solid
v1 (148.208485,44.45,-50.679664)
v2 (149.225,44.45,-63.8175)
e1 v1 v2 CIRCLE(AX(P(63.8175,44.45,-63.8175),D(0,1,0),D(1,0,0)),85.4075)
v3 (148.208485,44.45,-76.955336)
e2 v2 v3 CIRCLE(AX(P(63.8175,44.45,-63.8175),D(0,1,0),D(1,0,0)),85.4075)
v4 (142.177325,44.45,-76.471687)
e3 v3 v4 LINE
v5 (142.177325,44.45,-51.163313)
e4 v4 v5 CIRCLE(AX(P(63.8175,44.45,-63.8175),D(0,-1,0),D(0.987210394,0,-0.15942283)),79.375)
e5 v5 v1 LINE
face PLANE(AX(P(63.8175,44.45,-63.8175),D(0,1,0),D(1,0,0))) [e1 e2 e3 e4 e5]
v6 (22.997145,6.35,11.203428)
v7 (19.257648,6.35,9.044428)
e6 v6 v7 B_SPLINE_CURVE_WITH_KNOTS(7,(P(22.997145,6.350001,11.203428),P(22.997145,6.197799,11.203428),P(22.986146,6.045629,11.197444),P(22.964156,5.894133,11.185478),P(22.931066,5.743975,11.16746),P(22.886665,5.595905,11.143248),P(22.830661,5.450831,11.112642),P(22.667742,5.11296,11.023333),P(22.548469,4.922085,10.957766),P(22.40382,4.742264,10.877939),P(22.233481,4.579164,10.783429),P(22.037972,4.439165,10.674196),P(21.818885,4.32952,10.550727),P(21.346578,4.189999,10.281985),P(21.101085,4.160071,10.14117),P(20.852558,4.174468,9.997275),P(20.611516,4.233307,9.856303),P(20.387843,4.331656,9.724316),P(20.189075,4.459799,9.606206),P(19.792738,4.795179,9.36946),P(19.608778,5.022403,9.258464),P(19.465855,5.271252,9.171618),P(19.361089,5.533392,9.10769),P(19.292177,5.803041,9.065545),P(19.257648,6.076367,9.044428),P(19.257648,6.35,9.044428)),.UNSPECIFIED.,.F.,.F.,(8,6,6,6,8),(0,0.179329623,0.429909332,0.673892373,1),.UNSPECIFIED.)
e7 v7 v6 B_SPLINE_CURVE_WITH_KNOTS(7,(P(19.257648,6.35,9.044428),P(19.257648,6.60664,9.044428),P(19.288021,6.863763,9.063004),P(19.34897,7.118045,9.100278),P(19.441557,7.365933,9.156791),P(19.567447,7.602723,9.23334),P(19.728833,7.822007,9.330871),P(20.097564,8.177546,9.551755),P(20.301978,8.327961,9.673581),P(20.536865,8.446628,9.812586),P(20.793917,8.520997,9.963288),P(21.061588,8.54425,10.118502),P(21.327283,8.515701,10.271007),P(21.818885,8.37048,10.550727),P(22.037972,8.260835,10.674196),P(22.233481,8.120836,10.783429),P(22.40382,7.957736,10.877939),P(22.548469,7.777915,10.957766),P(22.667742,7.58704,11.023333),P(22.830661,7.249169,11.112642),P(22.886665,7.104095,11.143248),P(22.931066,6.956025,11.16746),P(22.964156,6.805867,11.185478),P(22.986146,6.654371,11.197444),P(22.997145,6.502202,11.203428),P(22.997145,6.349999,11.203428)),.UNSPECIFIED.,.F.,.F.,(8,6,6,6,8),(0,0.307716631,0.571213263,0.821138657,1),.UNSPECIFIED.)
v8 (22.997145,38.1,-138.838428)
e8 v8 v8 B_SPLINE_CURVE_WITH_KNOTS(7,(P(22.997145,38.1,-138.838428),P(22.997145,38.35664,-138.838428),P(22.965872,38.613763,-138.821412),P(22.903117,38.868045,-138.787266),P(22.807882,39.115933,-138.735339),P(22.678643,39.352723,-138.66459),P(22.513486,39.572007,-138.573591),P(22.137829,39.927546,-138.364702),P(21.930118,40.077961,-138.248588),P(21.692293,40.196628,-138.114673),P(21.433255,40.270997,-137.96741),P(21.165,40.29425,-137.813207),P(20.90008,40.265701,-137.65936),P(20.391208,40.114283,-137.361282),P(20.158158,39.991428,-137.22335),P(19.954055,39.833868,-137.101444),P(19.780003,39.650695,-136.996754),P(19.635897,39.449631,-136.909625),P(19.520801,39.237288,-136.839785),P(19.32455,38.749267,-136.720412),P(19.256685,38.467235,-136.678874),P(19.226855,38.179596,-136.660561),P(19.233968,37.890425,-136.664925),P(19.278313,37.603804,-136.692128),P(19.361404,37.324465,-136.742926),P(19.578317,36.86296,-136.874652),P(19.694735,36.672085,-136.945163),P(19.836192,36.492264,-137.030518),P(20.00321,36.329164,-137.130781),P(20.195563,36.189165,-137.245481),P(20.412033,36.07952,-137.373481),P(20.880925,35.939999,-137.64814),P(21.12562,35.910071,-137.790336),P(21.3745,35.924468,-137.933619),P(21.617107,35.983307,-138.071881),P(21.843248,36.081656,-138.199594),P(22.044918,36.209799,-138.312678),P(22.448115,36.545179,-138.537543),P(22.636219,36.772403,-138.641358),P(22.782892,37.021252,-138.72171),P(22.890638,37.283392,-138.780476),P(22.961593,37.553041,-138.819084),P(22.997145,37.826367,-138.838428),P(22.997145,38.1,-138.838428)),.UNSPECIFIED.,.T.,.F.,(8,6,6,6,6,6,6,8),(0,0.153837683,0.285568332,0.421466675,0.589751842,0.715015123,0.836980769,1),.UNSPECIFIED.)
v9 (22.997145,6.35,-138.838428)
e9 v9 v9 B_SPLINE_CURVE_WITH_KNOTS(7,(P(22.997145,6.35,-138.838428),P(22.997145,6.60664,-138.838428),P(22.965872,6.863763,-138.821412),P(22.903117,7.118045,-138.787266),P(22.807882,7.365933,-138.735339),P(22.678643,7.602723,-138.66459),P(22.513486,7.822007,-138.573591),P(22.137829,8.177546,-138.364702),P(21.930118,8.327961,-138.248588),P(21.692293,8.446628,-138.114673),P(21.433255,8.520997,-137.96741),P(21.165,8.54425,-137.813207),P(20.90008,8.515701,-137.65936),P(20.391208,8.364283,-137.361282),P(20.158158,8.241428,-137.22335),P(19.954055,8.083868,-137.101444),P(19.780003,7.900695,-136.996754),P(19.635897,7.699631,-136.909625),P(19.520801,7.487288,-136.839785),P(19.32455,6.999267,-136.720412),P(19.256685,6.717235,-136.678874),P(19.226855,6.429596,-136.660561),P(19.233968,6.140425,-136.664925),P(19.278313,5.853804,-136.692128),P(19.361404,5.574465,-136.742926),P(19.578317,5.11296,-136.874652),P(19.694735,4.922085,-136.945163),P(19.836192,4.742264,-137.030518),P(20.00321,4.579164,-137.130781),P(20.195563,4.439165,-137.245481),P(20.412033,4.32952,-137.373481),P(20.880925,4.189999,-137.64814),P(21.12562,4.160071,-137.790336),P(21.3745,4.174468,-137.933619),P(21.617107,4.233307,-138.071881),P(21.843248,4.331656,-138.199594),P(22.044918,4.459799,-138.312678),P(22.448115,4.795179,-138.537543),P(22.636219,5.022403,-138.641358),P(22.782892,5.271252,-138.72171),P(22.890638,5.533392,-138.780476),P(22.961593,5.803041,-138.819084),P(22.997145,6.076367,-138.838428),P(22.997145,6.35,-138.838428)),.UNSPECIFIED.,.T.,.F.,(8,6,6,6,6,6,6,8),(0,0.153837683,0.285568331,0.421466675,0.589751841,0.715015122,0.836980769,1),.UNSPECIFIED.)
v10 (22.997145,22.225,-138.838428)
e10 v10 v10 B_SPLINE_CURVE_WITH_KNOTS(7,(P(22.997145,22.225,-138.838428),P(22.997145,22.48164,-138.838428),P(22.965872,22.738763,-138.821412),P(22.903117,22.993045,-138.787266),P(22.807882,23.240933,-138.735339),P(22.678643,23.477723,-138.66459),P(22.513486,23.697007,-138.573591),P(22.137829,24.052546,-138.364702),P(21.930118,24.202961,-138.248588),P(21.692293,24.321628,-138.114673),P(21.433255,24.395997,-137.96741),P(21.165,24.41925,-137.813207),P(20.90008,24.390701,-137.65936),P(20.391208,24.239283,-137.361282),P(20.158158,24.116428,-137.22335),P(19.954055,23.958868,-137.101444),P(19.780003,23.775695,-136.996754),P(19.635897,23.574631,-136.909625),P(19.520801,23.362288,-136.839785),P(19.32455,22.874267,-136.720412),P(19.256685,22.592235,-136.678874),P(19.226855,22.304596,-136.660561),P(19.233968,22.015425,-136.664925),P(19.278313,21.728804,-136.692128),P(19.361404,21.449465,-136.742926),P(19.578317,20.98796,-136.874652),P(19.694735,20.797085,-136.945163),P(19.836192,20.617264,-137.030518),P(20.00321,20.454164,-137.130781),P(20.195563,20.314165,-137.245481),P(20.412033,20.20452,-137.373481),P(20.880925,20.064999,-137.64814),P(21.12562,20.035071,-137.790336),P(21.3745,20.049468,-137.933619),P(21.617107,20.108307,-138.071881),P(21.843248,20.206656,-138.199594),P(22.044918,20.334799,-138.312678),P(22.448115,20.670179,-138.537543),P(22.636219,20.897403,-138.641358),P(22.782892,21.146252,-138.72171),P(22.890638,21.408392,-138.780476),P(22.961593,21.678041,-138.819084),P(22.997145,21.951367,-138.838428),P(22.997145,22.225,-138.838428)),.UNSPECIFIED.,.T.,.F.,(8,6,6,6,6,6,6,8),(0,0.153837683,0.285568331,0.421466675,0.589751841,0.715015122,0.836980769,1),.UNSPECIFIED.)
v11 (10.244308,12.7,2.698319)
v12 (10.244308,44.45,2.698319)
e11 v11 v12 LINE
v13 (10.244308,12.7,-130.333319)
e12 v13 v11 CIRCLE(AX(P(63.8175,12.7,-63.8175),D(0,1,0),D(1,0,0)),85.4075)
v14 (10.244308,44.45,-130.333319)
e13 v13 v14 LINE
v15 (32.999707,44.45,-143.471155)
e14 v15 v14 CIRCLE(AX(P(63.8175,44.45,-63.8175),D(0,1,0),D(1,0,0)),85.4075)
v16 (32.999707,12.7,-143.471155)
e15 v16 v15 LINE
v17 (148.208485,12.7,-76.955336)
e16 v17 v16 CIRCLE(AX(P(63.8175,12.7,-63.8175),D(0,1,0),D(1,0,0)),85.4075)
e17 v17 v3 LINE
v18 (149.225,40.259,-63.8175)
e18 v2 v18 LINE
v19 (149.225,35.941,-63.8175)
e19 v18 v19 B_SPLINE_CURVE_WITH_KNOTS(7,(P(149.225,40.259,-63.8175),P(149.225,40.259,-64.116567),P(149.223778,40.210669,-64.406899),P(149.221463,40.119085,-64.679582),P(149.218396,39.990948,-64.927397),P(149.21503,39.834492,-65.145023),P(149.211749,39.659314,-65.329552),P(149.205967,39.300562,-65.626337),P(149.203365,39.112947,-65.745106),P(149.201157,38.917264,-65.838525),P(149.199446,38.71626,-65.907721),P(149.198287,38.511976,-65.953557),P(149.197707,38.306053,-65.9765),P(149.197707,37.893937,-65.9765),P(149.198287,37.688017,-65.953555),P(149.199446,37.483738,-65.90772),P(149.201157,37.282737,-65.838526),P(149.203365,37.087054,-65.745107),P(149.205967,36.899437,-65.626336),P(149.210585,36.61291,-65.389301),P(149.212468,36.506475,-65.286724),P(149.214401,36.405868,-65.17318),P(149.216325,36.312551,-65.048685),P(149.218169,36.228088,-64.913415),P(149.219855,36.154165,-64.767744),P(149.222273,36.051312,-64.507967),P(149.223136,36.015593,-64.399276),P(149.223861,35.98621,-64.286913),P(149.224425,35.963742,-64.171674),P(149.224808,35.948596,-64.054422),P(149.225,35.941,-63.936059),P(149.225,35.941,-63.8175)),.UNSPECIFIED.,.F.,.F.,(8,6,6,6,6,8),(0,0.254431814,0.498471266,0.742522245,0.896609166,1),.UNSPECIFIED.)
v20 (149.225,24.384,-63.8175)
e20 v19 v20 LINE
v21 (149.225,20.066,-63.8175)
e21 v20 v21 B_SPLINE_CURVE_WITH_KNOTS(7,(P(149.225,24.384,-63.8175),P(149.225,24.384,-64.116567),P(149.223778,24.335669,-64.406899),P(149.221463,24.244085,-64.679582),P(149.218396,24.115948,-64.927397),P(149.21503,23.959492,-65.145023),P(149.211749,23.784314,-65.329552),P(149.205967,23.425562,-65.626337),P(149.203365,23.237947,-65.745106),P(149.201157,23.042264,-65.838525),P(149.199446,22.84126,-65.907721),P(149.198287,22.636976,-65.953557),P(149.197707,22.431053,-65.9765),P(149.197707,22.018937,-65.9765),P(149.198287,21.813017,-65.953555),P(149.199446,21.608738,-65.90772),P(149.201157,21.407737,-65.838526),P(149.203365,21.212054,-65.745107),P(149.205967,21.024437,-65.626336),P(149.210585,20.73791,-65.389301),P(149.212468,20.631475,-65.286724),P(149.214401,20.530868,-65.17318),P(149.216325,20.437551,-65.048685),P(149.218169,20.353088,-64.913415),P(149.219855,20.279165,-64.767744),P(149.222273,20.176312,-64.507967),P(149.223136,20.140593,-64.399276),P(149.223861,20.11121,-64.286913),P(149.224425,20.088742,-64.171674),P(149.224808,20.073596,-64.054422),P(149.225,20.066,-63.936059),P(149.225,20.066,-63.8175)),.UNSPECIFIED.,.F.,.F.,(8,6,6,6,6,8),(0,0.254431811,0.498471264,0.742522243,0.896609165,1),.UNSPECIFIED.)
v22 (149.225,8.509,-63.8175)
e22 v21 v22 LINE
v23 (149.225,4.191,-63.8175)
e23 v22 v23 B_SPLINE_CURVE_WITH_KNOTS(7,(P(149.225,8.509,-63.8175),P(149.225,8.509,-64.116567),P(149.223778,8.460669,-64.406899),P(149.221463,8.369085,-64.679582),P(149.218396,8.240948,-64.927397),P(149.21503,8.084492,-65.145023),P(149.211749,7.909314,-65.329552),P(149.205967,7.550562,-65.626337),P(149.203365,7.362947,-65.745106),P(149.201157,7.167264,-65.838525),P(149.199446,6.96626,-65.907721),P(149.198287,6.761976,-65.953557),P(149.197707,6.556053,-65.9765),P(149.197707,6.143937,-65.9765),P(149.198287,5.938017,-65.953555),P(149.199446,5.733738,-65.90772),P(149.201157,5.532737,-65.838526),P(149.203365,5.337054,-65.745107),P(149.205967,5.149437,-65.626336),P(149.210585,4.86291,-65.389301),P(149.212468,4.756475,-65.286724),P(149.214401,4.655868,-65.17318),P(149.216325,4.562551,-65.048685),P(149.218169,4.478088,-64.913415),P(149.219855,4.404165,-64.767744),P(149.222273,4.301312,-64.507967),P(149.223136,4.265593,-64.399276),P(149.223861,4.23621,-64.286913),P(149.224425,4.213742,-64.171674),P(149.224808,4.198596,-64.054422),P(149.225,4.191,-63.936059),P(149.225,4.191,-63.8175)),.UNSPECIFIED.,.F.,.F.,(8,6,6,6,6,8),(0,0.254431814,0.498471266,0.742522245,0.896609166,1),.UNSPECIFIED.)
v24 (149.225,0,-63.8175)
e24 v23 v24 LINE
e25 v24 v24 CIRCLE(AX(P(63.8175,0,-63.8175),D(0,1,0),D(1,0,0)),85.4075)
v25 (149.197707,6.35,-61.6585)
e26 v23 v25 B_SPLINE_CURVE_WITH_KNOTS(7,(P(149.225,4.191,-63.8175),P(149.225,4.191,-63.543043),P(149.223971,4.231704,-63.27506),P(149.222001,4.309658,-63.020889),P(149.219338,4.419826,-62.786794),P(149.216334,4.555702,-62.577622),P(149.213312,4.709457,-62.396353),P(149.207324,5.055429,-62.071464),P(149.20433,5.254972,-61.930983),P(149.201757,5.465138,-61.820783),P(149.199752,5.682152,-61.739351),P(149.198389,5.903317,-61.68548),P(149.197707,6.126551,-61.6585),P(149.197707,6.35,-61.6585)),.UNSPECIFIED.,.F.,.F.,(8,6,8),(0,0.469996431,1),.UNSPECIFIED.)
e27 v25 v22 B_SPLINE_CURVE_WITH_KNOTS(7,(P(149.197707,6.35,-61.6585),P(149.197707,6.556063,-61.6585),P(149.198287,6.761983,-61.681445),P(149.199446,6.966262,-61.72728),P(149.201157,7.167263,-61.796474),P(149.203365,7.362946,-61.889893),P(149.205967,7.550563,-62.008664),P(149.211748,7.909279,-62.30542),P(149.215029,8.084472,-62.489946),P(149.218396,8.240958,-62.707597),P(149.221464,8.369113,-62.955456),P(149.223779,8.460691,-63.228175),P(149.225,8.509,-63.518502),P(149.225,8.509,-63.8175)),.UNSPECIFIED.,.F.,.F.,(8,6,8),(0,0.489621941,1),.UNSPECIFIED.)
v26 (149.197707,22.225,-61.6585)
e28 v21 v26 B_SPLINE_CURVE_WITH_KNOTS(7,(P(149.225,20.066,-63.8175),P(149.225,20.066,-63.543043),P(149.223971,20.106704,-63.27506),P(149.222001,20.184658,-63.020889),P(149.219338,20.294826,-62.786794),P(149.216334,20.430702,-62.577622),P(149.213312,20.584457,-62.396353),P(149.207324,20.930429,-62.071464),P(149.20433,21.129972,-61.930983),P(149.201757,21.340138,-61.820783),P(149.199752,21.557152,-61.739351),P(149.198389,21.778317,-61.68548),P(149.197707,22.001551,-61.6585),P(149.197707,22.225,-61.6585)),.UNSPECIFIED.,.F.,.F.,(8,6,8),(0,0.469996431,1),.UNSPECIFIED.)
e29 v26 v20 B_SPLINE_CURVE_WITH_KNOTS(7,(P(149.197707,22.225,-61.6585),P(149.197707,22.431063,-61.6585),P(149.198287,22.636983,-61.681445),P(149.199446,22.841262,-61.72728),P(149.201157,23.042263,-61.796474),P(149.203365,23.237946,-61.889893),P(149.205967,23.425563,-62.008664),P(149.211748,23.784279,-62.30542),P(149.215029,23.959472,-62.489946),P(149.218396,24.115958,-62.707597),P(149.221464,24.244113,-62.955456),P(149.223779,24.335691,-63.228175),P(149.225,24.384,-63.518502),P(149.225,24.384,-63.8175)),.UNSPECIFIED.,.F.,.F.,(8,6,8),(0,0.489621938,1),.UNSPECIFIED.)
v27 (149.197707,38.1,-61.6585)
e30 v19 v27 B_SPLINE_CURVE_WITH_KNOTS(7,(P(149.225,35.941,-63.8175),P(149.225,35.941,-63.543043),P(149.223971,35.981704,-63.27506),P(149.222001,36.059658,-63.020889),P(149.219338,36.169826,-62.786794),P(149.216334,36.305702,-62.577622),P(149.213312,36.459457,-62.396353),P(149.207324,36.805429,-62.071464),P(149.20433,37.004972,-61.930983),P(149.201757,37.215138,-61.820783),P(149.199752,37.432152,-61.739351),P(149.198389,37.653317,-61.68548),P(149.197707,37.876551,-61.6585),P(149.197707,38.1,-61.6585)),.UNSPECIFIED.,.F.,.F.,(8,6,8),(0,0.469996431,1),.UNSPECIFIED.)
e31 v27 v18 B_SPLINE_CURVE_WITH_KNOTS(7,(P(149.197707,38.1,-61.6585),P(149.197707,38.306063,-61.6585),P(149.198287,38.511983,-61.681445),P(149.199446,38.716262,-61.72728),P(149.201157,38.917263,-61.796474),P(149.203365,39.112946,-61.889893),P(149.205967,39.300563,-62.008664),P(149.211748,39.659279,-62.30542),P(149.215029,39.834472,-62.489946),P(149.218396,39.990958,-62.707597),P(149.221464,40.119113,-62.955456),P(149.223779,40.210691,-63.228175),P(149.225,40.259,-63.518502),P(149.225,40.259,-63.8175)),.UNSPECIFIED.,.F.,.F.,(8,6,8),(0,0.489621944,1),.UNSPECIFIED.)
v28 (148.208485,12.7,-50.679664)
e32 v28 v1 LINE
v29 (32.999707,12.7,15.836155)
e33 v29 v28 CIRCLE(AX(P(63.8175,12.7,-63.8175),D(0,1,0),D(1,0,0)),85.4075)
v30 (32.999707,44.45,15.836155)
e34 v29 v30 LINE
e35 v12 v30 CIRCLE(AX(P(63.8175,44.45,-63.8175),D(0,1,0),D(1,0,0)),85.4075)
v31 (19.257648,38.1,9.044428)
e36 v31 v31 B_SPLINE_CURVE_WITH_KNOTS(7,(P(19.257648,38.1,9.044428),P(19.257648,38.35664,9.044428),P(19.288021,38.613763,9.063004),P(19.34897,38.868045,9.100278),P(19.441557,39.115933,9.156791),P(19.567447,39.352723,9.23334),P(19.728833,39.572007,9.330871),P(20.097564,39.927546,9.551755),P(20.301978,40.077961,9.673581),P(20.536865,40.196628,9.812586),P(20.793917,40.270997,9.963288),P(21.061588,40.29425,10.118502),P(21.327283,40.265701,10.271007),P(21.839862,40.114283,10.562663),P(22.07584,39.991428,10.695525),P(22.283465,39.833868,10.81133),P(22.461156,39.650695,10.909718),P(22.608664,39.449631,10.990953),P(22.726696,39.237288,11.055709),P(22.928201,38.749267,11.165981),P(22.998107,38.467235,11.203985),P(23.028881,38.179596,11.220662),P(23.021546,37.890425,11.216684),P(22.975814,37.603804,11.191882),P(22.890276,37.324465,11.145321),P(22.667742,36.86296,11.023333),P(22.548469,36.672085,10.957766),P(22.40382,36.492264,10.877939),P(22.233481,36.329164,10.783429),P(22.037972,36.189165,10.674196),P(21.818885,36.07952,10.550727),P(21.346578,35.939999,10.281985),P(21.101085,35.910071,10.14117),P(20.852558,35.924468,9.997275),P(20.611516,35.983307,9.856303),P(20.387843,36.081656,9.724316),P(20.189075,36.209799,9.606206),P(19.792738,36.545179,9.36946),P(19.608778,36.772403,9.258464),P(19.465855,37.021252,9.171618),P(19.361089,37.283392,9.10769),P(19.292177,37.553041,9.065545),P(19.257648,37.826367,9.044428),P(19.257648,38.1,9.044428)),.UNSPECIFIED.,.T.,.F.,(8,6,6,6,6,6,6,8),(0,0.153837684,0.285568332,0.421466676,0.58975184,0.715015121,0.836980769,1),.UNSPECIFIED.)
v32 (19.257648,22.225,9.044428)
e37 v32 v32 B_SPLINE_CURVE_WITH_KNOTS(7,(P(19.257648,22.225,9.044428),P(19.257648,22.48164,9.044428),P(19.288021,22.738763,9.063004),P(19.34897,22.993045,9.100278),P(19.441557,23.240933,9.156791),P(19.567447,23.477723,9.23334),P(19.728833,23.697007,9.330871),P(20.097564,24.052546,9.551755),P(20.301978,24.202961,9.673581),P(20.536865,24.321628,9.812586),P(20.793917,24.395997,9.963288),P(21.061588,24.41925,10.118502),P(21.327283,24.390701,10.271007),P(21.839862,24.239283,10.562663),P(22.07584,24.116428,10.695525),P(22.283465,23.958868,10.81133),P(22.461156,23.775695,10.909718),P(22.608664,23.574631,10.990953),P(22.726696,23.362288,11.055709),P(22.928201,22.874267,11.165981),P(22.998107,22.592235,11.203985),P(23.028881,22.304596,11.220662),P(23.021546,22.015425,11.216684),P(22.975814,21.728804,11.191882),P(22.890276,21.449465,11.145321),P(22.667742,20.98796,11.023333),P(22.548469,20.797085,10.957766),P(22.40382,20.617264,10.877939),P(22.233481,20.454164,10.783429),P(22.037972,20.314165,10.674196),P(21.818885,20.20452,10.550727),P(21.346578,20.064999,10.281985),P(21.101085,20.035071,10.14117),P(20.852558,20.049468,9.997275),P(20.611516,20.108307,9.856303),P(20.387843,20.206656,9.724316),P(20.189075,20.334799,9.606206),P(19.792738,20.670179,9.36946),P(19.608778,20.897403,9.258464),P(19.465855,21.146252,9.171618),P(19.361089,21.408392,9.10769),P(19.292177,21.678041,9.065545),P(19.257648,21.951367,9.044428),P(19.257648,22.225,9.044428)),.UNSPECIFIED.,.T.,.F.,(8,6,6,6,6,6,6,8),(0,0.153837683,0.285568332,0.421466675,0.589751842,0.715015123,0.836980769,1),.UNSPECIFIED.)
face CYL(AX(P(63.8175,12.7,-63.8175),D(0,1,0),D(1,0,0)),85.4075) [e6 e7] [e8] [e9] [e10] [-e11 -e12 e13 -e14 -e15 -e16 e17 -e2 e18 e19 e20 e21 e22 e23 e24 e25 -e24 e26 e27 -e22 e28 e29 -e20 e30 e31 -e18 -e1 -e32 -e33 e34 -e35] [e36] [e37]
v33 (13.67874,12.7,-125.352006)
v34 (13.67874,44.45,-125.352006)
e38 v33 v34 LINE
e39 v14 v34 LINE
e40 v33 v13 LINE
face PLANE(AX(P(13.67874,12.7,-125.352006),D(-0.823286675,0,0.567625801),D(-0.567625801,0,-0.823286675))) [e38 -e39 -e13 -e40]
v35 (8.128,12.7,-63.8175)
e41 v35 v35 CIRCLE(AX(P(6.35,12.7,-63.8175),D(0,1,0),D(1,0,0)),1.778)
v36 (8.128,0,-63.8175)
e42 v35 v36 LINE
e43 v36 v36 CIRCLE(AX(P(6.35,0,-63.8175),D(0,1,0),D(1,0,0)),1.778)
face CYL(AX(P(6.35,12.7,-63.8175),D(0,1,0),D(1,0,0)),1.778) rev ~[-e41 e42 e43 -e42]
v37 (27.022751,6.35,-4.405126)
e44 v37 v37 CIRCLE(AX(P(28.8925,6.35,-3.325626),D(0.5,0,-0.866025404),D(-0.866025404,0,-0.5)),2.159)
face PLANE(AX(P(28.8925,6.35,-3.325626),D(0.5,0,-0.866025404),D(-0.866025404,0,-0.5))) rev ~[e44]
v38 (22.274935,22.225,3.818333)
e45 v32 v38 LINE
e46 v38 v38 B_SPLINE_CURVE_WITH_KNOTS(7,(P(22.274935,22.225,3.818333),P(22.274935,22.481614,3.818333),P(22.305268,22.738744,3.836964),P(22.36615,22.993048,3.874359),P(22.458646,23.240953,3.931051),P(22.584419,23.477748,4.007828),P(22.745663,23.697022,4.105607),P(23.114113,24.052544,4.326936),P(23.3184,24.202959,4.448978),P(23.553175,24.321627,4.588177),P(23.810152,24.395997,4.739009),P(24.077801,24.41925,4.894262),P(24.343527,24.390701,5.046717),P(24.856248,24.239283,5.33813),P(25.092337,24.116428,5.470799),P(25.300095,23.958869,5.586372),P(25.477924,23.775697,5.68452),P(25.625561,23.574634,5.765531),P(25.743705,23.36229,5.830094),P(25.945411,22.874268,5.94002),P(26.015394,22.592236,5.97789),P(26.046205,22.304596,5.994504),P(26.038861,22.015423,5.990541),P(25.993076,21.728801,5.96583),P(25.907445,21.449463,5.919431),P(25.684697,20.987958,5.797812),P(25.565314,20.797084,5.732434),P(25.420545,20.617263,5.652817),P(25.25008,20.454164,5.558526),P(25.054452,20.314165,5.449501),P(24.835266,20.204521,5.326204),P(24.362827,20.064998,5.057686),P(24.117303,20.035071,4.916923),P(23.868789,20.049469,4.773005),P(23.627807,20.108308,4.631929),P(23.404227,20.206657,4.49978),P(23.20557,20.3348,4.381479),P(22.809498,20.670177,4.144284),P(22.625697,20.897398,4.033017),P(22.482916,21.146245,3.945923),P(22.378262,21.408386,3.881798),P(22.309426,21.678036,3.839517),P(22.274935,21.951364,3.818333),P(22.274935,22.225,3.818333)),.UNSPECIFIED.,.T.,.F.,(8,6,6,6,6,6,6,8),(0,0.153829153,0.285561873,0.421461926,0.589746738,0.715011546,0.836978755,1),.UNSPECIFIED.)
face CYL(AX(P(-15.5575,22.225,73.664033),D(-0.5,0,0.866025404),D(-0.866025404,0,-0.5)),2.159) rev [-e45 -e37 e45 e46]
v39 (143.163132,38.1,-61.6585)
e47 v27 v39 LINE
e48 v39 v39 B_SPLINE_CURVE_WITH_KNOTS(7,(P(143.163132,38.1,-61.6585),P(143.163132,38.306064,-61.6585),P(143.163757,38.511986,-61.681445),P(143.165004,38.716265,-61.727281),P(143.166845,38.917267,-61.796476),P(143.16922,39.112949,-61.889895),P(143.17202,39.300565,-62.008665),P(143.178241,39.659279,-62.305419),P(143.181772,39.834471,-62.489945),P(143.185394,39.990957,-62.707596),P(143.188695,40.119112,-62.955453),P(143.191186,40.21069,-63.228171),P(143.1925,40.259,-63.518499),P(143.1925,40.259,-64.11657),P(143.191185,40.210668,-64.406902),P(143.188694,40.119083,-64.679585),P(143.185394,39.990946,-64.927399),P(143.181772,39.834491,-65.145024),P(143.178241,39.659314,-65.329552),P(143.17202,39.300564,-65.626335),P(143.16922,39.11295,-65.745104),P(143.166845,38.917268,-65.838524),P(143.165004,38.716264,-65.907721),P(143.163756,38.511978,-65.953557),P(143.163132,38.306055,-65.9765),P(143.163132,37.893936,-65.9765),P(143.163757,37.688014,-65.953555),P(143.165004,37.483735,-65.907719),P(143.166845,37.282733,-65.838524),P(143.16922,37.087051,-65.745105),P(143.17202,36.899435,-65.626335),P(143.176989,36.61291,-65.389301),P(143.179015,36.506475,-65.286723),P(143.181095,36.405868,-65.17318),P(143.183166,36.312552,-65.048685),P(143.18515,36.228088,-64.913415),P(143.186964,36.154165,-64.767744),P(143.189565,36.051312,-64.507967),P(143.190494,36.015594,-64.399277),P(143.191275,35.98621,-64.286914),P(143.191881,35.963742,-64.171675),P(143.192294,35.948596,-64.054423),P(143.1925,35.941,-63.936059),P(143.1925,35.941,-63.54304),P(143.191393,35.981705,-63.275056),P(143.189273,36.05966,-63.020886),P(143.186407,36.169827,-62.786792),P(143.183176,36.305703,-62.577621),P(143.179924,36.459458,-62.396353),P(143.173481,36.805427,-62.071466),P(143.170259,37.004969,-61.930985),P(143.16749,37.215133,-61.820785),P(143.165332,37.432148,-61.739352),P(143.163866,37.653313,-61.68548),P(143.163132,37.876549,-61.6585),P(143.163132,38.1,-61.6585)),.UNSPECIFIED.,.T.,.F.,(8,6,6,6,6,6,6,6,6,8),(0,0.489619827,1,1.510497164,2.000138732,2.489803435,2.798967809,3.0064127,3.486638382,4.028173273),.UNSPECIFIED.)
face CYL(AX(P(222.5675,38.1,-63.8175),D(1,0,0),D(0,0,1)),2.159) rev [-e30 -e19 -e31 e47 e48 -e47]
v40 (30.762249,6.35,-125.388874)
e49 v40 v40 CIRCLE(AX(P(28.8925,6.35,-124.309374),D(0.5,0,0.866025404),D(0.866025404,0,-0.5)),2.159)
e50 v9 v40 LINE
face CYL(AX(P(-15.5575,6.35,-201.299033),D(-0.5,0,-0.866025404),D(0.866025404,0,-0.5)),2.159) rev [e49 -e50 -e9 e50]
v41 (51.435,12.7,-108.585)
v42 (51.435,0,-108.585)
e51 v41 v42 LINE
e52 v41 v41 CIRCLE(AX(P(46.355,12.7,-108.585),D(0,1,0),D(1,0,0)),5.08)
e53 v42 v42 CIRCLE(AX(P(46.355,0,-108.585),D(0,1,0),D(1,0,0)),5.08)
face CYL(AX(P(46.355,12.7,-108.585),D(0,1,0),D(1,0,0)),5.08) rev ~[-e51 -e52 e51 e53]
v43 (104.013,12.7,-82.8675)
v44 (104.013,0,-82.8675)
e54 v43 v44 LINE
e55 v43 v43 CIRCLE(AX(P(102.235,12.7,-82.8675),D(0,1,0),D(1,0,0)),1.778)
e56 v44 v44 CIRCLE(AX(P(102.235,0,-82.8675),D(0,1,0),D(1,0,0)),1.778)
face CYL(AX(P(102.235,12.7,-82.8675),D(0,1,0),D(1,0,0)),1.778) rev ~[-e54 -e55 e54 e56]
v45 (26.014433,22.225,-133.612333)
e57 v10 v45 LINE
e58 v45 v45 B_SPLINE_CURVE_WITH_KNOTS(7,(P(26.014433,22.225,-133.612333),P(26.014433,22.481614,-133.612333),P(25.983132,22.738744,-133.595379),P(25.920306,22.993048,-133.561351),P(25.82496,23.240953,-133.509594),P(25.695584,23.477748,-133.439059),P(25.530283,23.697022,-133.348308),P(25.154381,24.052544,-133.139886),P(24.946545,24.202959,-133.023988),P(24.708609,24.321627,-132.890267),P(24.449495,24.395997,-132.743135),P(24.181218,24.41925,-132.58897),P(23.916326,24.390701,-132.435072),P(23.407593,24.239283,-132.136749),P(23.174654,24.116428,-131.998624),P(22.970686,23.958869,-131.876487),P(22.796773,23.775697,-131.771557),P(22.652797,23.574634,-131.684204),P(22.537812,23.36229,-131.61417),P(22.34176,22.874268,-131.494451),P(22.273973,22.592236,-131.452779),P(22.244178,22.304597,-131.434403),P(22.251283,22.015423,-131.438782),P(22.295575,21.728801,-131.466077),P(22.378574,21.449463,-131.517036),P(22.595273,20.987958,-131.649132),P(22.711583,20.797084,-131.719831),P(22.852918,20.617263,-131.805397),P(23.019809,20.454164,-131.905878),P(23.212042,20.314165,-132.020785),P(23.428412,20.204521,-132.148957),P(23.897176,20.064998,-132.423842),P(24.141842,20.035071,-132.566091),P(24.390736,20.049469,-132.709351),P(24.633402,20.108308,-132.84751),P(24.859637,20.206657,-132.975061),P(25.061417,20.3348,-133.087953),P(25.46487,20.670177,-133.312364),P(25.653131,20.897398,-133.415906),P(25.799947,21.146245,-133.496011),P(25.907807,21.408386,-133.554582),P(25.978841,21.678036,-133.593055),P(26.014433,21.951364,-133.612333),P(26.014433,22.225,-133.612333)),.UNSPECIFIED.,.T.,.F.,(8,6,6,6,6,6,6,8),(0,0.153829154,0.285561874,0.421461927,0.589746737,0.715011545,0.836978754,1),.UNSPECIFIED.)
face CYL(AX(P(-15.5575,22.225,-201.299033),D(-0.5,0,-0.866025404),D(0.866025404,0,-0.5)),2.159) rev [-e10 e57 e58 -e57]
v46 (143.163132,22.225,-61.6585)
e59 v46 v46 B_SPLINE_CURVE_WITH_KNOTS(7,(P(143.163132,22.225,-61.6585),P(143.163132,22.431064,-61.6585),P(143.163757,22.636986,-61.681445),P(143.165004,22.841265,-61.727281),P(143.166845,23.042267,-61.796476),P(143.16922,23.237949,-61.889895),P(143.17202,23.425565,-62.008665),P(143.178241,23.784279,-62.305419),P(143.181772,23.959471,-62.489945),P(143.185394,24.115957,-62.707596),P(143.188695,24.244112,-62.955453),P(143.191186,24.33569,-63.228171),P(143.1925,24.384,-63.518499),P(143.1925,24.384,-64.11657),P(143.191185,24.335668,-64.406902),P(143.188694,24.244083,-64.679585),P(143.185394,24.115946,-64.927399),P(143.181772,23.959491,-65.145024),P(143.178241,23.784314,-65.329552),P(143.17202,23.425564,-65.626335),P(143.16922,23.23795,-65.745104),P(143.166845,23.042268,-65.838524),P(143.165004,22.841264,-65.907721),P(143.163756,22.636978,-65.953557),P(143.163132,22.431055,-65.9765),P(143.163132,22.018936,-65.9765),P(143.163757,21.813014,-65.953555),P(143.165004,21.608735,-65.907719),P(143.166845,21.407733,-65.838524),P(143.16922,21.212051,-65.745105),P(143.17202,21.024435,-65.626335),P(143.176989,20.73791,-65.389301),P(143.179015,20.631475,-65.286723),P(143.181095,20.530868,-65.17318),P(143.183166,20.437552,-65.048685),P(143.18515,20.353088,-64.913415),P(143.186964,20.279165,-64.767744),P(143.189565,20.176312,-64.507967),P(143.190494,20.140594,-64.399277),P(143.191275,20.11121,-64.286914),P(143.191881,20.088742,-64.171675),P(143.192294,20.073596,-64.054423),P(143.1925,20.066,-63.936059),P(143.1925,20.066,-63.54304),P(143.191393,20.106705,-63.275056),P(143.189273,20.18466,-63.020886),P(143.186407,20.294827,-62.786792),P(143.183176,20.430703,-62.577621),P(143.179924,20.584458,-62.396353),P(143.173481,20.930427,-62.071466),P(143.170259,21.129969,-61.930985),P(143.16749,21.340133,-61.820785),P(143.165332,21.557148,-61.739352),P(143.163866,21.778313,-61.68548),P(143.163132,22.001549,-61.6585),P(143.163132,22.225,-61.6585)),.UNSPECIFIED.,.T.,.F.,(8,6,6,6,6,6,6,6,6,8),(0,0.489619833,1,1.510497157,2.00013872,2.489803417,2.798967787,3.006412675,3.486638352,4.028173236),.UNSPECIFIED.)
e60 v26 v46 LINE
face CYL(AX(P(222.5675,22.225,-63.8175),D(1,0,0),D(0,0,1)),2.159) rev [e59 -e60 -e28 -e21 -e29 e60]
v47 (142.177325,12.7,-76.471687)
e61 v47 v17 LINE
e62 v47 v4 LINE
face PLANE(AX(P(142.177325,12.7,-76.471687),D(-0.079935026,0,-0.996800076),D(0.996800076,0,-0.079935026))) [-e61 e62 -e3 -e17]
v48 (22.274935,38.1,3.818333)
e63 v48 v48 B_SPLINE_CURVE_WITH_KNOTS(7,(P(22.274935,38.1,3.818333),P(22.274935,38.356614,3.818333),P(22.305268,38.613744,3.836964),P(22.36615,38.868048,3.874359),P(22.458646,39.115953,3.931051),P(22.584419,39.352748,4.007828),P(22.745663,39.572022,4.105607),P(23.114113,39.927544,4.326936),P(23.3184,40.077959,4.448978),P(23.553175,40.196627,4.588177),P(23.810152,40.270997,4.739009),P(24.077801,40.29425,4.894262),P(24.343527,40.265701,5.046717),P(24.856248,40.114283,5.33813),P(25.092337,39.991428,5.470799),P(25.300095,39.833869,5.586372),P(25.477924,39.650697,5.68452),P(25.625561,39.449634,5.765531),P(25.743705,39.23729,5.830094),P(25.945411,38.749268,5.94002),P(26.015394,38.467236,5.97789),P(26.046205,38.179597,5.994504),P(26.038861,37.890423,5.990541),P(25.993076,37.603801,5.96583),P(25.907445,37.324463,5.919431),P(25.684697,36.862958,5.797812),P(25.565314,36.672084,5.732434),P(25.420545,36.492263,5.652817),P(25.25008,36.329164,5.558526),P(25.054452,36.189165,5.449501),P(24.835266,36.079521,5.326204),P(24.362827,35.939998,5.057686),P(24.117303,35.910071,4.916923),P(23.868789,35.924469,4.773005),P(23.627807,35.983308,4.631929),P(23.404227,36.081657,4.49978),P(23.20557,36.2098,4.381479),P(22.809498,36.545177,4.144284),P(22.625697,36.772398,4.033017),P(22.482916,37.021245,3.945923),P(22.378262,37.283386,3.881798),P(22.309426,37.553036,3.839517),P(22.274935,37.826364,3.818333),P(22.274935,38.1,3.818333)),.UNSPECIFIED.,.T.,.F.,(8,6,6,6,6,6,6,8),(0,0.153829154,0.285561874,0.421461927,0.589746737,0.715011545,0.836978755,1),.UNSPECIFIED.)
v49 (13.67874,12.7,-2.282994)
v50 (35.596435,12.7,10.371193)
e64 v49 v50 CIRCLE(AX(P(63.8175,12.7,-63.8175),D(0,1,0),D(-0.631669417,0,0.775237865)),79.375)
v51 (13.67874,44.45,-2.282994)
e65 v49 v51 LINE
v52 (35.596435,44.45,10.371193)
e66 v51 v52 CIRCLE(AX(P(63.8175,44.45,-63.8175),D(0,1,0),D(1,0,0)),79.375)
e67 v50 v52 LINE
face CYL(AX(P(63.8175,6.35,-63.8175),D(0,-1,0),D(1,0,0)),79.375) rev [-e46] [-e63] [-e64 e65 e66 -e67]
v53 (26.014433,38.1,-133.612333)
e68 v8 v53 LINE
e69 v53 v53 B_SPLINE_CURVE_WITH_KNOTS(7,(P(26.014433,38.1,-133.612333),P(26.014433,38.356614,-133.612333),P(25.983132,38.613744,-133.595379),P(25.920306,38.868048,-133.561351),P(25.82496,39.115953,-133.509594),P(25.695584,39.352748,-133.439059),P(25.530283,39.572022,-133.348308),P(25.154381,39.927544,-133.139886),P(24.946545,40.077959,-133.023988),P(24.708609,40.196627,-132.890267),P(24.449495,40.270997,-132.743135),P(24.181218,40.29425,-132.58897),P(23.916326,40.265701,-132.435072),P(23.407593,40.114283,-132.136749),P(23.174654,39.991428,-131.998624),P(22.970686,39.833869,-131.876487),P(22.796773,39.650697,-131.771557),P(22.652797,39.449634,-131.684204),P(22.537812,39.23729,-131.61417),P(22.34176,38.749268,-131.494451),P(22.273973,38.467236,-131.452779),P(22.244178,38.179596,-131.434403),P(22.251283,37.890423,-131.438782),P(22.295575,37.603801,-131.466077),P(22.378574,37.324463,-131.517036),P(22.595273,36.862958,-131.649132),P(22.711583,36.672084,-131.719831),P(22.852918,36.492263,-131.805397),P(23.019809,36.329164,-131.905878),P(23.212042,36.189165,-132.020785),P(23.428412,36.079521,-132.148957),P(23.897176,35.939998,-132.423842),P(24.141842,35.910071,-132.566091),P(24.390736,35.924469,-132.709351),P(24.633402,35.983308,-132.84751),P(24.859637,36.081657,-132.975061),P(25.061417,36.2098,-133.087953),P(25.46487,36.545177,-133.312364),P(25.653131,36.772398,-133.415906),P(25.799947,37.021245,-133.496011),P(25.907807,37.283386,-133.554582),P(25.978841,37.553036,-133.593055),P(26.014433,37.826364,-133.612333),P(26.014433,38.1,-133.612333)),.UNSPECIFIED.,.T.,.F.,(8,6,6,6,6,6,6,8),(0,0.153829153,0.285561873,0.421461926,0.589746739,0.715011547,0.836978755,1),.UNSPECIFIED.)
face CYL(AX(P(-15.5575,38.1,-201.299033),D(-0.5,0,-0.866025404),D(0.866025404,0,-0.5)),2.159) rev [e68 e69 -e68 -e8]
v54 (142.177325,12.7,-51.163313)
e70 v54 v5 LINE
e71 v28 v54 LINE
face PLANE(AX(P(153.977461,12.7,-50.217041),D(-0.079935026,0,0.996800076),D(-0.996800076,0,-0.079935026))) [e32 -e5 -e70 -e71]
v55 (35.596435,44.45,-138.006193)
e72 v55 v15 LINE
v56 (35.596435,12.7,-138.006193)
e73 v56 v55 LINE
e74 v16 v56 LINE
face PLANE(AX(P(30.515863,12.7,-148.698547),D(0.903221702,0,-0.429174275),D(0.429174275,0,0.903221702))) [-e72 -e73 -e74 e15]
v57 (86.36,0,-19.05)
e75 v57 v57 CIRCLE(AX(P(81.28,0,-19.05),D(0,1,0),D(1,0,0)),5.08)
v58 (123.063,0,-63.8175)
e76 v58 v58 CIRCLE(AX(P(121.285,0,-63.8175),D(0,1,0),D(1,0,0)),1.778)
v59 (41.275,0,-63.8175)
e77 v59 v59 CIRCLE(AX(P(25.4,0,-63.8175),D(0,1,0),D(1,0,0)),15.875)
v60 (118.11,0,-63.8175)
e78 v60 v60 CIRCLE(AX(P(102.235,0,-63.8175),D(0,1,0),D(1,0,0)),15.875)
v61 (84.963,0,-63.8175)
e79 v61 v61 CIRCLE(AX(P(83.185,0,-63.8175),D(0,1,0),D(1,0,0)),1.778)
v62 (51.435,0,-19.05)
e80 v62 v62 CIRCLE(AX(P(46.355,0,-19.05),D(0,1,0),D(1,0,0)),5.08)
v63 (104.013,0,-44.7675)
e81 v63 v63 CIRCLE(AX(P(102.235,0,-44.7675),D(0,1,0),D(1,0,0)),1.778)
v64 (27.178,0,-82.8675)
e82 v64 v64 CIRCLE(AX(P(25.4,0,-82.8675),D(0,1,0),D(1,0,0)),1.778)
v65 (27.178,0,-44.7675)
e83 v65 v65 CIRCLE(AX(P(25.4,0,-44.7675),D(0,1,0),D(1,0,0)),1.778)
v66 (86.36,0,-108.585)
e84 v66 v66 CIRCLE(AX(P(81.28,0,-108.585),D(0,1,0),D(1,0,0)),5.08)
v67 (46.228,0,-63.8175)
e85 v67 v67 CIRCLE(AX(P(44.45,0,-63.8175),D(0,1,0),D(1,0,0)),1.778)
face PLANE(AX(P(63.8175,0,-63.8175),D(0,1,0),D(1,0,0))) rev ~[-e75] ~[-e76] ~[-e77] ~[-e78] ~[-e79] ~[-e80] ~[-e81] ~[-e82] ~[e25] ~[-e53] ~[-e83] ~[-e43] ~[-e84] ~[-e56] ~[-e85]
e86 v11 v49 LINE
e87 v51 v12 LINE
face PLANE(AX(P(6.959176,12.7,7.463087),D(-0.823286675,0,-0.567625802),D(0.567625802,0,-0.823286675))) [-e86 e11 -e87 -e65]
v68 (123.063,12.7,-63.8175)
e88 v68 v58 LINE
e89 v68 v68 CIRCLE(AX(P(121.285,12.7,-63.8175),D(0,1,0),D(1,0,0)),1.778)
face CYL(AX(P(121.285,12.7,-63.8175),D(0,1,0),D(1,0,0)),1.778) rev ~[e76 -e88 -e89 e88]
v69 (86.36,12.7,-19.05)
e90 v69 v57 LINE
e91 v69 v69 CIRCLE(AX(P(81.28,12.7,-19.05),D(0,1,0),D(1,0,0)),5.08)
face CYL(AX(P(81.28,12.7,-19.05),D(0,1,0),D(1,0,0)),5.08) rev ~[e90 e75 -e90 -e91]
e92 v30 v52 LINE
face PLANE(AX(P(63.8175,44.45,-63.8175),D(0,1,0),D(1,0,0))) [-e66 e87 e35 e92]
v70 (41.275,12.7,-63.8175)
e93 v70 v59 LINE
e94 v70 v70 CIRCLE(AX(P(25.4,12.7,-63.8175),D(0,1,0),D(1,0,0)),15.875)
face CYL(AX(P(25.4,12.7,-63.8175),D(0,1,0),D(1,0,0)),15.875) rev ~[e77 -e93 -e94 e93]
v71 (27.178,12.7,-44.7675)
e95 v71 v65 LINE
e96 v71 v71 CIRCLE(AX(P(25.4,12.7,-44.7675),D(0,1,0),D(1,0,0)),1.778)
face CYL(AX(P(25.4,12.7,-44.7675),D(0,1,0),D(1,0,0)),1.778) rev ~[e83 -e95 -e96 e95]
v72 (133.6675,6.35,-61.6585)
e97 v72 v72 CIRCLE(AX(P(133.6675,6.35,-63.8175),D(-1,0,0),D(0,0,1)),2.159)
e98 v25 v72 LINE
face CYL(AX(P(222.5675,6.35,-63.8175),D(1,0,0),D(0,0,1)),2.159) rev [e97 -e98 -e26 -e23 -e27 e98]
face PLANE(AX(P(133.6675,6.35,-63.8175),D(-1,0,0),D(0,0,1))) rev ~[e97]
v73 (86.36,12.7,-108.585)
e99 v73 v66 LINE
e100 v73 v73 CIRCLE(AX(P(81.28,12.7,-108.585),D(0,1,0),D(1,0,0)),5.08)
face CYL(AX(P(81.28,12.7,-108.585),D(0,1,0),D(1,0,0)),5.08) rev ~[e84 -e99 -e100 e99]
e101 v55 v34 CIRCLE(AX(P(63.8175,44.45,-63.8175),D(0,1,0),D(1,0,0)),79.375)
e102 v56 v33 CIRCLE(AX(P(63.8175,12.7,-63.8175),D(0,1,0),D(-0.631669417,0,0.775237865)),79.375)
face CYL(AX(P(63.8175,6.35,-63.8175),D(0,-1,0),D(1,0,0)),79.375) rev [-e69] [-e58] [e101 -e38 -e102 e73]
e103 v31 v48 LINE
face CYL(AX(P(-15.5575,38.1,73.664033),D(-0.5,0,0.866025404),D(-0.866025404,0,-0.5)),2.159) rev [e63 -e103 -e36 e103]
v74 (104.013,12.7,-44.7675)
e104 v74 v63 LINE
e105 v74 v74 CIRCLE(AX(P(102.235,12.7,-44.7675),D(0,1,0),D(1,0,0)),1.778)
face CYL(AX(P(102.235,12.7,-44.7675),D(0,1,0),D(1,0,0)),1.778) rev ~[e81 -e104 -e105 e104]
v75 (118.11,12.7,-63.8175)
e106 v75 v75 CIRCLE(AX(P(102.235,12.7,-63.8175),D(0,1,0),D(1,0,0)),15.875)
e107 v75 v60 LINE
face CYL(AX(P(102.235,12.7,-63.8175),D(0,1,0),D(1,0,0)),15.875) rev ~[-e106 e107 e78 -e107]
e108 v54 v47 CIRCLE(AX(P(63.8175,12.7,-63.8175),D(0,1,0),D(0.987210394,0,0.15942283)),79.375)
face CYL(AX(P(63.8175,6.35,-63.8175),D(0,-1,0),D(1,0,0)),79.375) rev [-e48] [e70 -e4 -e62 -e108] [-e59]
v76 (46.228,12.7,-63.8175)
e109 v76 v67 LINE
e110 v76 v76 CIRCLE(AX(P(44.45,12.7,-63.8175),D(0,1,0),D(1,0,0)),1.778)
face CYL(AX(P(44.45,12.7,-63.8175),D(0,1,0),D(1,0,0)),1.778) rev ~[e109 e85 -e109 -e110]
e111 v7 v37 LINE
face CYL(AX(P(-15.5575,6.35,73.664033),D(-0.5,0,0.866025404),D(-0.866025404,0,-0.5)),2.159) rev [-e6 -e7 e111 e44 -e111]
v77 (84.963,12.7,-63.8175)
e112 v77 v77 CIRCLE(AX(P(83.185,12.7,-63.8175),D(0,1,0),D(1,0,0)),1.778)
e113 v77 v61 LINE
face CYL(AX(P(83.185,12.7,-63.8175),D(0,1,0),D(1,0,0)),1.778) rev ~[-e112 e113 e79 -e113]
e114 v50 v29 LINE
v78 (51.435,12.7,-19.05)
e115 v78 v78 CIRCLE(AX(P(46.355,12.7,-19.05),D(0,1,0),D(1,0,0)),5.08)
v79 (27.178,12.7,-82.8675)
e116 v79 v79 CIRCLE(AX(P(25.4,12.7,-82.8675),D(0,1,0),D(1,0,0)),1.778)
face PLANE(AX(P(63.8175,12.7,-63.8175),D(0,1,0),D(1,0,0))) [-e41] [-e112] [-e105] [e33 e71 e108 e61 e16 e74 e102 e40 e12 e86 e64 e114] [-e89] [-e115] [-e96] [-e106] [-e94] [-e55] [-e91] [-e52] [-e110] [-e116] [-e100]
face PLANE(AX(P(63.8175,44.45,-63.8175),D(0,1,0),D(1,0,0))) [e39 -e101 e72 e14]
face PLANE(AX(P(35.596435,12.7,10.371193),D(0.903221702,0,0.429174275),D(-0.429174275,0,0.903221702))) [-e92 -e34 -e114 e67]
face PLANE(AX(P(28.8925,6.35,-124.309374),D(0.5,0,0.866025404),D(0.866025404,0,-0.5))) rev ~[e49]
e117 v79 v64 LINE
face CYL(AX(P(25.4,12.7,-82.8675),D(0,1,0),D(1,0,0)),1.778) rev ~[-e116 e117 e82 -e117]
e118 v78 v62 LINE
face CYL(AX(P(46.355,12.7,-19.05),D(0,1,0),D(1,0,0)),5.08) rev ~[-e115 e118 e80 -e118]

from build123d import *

# Parameters (mm, degrees)
SKETCH1_W           = 127.635
SKETCH1_H           = 127.635
MAIN_PLATE_DEPTH    = 12.7
SKETCH9_R           = 85.725
BOSS_EXTRUDE1_DEPTH = 12.7
SKETCH10_R          = 95.25
SKETCH10_R_2        = 85.4075
CUT_EXTRUDE1_DEPTH  = 167.64
SKETCH18_R          = 85.4075
SKETCH18_R_2        = 79.375
BOSS_EXTRUDE2_DEPTH = 38.1
SKETCH15_R          = 2.159
CUT_EXTRUDE3_DEPTH  = 88.9
CIRPATTERN1_COUNT   = 3
SKETCH21_R          = 15.875
SKETCH21_R_2        = 1.778
CO2_MOUNTS_DEPTH    = 13.7000001
SKETCH22_R          = 5.08
CUT_EXTRUDE5_DEPTH  = 13.7000001
SKETCH23_R          = 79.375
CUT_EXTRUDE6_DEPTH  = 111.600000066


with BuildPart() as part:
    # Sketch1 → Main Plate (new body)
    with BuildSketch(Plane(origin=(0, 0, 0), x_dir=(1, 0, 0), z_dir=(0, 1, 0))):
        with Locations((63.8175, 63.8175)):
            Rectangle(SKETCH1_W, SKETCH1_H)
    extrude(amount=MAIN_PLATE_DEPTH)

    # Sketch9 → Boss-Extrude1 (add)
    with BuildSketch(Plane(origin=(0, 12.7, 0), x_dir=(1, 0, 0), z_dir=(0, 1, 0))):
        with Locations((63.8175, 63.8175)):
            Circle(SKETCH9_R)
    extrude(amount=-BOSS_EXTRUDE1_DEPTH)

    # Sketch10 → Cut-Extrude1 (cut)
    with BuildSketch(Plane(origin=(0, 12.7, 0), x_dir=(1, 0, 0), z_dir=(0, 1, 0))):
        with Locations((63.8175, 63.8175)):
            Circle(SKETCH10_R)
        with Locations((63.8175, 63.8175)):
            Circle(SKETCH10_R_2, mode=Mode.SUBTRACT)
    extrude(amount=-CUT_EXTRUDE1_DEPTH, mode=Mode.SUBTRACT)

    # Sketch18 → Boss-Extrude2 (add)
    with BuildSketch(Plane(origin=(0, 6.35, 0), x_dir=(1, 0, 0), z_dir=(0, 1, 0))):
        with Locations((63.8175, 63.8175)):
            Circle(SKETCH18_R)
        with Locations((63.8175, 63.8175)):
            Circle(SKETCH18_R_2, mode=Mode.SUBTRACT)
    extrude(amount=BOSS_EXTRUDE2_DEPTH)

    # Sketch15 → Cut-Extrude3 (cut)
    with BuildSketch(Plane(origin=(166.221610148, 0, 178.614251028), x_dir=(-0.866025404, 0, -0.5), z_dir=(0.5, 0, -0.866025404))):
        with Locations((209.900436354, 22.225)):
            Circle(SKETCH15_R)
        with Locations((209.900436354, 38.1)):
            Circle(SKETCH15_R)
        with Locations((209.900436354, 6.35)):
            Circle(SKETCH15_R)
    cut_extrude3 = extrude(amount=CUT_EXTRUDE3_DEPTH, mode=Mode.SUBTRACT)

    # CirPattern1: Cut-Extrude3 ×3 about axis
    cirpattern1_axis = Axis((63.8175, 0, -63.8175), (0, 1, 0))
    for i in range(1, CIRPATTERN1_COUNT):
        add(cut_extrude3.rotate(cirpattern1_axis, i * 360 / CIRPATTERN1_COUNT), mode=Mode.SUBTRACT)

    # Sketch21 → CO2 Mounts (cut, through all)
    with BuildSketch(Plane(origin=(0, 12.7, 0), x_dir=(1, 0, 0), z_dir=(0, 1, 0))):
        with Locations((102.235, 63.8175)):
            Circle(SKETCH21_R)
        with Locations((102.235, 82.8675)):
            Circle(SKETCH21_R_2)
        with Locations((25.4, 63.8175)):
            Circle(SKETCH21_R)
        with Locations((121.285, 63.8175)):
            Circle(SKETCH21_R_2)
        with Locations((102.235, 44.7675)):
            Circle(SKETCH21_R_2)
        with Locations((83.185, 63.8175)):
            Circle(SKETCH21_R_2)
        with Locations((25.4, 82.8675)):
            Circle(SKETCH21_R_2)
        with Locations((6.35, 63.8175)):
            Circle(SKETCH21_R_2)
        with Locations((25.4, 44.7675)):
            Circle(SKETCH21_R_2)
        with Locations((44.45, 63.8175)):
            Circle(SKETCH21_R_2)
    extrude(amount=-CO2_MOUNTS_DEPTH, mode=Mode.SUBTRACT)

    # Sketch22 → Cut-Extrude5 (cut, through all)
    with BuildSketch(Plane(origin=(0, 12.7, 0), x_dir=(1, 0, 0), z_dir=(0, 1, 0))):
        with Locations((46.355, 108.585)):
            Circle(SKETCH22_R)
        with Locations((81.28, 108.585)):
            Circle(SKETCH22_R)
        with Locations((81.28, 19.05)):
            Circle(SKETCH22_R)
        with Locations((46.355, 19.05)):
            Circle(SKETCH22_R)
    extrude(amount=-CUT_EXTRUDE5_DEPTH, mode=Mode.SUBTRACT)

    # Sketch23 → Cut-Extrude6 (cut)
    with BuildSketch(Plane(origin=(0, 12.7, 0), x_dir=(1, 0, 0), z_dir=(0, 1, 0))):
        with Locations((63.8175, 63.8175)):
            Circle(SKETCH23_R)
        with BuildLine():
            Line((13.678739997, 125.352005526), (7.552270878, 134.237860218))
            Line((7.552270878, 134.237860218), (-19.267108419, 125.320629884))
            Line((-19.267108419, 125.320629884), (-48.79695837, 60.397770071))
            Line((-48.79695837, 60.397770071), (-9.884344094, 7.052469015))
            Line((-9.884344094, 7.052469015), (6.959175986, -7.46308736))
            Line((6.959175986, -7.46308736), (13.678739997, 2.282994474))
            ThreePointArc((13.678739997, 2.282994474), (-15.5575, 63.8175), (13.678739997, 125.352005526))
        make_face()
        with BuildLine():
            Line((142.177324996, 76.471687114), (152.935935453, 77.334437661))
            Line((152.935935453, 77.334437661), (158.623077101, 105.019316613))
            Line((158.623077101, 105.019316613), (117.163156193, 163.054346747))
            Line((117.163156193, 163.054346747), (51.508463168, 156.027684783))
            Line((51.508463168, 156.027684783), (30.515862556, 148.698546693))
            Line((30.515862556, 148.698546693), (35.596435007, 138.00619264))
            ThreePointArc((35.596435007, 138.00619264), (103.505, 132.558266425), (142.177324996, 76.471687114))
        make_face()
        with BuildLine():
            Line((35.596435007, -10.37119264), (30.964293669, -20.119797879))
            Line((30.964293669, -20.119797879), (52.096531318, -38.887446496))
            Line((52.096531318, -38.887446496), (123.086302178, -31.999616818))
            Line((123.086302178, -31.999616818), (149.828380926, 28.372346201))
            Line((149.828380926, 28.372346201), (153.977461458, 50.217040667))
            Line((153.977461458, 50.217040667), (142.177324996, 51.163312886))
            ThreePointArc((142.177324996, 51.163312886), (103.505, -4.923266425), (35.596435007, -10.37119264))
        make_face()
    extrude(amount=CUT_EXTRUDE6_DEPTH, mode=Mode.SUBTRACT)


solid = part.part
